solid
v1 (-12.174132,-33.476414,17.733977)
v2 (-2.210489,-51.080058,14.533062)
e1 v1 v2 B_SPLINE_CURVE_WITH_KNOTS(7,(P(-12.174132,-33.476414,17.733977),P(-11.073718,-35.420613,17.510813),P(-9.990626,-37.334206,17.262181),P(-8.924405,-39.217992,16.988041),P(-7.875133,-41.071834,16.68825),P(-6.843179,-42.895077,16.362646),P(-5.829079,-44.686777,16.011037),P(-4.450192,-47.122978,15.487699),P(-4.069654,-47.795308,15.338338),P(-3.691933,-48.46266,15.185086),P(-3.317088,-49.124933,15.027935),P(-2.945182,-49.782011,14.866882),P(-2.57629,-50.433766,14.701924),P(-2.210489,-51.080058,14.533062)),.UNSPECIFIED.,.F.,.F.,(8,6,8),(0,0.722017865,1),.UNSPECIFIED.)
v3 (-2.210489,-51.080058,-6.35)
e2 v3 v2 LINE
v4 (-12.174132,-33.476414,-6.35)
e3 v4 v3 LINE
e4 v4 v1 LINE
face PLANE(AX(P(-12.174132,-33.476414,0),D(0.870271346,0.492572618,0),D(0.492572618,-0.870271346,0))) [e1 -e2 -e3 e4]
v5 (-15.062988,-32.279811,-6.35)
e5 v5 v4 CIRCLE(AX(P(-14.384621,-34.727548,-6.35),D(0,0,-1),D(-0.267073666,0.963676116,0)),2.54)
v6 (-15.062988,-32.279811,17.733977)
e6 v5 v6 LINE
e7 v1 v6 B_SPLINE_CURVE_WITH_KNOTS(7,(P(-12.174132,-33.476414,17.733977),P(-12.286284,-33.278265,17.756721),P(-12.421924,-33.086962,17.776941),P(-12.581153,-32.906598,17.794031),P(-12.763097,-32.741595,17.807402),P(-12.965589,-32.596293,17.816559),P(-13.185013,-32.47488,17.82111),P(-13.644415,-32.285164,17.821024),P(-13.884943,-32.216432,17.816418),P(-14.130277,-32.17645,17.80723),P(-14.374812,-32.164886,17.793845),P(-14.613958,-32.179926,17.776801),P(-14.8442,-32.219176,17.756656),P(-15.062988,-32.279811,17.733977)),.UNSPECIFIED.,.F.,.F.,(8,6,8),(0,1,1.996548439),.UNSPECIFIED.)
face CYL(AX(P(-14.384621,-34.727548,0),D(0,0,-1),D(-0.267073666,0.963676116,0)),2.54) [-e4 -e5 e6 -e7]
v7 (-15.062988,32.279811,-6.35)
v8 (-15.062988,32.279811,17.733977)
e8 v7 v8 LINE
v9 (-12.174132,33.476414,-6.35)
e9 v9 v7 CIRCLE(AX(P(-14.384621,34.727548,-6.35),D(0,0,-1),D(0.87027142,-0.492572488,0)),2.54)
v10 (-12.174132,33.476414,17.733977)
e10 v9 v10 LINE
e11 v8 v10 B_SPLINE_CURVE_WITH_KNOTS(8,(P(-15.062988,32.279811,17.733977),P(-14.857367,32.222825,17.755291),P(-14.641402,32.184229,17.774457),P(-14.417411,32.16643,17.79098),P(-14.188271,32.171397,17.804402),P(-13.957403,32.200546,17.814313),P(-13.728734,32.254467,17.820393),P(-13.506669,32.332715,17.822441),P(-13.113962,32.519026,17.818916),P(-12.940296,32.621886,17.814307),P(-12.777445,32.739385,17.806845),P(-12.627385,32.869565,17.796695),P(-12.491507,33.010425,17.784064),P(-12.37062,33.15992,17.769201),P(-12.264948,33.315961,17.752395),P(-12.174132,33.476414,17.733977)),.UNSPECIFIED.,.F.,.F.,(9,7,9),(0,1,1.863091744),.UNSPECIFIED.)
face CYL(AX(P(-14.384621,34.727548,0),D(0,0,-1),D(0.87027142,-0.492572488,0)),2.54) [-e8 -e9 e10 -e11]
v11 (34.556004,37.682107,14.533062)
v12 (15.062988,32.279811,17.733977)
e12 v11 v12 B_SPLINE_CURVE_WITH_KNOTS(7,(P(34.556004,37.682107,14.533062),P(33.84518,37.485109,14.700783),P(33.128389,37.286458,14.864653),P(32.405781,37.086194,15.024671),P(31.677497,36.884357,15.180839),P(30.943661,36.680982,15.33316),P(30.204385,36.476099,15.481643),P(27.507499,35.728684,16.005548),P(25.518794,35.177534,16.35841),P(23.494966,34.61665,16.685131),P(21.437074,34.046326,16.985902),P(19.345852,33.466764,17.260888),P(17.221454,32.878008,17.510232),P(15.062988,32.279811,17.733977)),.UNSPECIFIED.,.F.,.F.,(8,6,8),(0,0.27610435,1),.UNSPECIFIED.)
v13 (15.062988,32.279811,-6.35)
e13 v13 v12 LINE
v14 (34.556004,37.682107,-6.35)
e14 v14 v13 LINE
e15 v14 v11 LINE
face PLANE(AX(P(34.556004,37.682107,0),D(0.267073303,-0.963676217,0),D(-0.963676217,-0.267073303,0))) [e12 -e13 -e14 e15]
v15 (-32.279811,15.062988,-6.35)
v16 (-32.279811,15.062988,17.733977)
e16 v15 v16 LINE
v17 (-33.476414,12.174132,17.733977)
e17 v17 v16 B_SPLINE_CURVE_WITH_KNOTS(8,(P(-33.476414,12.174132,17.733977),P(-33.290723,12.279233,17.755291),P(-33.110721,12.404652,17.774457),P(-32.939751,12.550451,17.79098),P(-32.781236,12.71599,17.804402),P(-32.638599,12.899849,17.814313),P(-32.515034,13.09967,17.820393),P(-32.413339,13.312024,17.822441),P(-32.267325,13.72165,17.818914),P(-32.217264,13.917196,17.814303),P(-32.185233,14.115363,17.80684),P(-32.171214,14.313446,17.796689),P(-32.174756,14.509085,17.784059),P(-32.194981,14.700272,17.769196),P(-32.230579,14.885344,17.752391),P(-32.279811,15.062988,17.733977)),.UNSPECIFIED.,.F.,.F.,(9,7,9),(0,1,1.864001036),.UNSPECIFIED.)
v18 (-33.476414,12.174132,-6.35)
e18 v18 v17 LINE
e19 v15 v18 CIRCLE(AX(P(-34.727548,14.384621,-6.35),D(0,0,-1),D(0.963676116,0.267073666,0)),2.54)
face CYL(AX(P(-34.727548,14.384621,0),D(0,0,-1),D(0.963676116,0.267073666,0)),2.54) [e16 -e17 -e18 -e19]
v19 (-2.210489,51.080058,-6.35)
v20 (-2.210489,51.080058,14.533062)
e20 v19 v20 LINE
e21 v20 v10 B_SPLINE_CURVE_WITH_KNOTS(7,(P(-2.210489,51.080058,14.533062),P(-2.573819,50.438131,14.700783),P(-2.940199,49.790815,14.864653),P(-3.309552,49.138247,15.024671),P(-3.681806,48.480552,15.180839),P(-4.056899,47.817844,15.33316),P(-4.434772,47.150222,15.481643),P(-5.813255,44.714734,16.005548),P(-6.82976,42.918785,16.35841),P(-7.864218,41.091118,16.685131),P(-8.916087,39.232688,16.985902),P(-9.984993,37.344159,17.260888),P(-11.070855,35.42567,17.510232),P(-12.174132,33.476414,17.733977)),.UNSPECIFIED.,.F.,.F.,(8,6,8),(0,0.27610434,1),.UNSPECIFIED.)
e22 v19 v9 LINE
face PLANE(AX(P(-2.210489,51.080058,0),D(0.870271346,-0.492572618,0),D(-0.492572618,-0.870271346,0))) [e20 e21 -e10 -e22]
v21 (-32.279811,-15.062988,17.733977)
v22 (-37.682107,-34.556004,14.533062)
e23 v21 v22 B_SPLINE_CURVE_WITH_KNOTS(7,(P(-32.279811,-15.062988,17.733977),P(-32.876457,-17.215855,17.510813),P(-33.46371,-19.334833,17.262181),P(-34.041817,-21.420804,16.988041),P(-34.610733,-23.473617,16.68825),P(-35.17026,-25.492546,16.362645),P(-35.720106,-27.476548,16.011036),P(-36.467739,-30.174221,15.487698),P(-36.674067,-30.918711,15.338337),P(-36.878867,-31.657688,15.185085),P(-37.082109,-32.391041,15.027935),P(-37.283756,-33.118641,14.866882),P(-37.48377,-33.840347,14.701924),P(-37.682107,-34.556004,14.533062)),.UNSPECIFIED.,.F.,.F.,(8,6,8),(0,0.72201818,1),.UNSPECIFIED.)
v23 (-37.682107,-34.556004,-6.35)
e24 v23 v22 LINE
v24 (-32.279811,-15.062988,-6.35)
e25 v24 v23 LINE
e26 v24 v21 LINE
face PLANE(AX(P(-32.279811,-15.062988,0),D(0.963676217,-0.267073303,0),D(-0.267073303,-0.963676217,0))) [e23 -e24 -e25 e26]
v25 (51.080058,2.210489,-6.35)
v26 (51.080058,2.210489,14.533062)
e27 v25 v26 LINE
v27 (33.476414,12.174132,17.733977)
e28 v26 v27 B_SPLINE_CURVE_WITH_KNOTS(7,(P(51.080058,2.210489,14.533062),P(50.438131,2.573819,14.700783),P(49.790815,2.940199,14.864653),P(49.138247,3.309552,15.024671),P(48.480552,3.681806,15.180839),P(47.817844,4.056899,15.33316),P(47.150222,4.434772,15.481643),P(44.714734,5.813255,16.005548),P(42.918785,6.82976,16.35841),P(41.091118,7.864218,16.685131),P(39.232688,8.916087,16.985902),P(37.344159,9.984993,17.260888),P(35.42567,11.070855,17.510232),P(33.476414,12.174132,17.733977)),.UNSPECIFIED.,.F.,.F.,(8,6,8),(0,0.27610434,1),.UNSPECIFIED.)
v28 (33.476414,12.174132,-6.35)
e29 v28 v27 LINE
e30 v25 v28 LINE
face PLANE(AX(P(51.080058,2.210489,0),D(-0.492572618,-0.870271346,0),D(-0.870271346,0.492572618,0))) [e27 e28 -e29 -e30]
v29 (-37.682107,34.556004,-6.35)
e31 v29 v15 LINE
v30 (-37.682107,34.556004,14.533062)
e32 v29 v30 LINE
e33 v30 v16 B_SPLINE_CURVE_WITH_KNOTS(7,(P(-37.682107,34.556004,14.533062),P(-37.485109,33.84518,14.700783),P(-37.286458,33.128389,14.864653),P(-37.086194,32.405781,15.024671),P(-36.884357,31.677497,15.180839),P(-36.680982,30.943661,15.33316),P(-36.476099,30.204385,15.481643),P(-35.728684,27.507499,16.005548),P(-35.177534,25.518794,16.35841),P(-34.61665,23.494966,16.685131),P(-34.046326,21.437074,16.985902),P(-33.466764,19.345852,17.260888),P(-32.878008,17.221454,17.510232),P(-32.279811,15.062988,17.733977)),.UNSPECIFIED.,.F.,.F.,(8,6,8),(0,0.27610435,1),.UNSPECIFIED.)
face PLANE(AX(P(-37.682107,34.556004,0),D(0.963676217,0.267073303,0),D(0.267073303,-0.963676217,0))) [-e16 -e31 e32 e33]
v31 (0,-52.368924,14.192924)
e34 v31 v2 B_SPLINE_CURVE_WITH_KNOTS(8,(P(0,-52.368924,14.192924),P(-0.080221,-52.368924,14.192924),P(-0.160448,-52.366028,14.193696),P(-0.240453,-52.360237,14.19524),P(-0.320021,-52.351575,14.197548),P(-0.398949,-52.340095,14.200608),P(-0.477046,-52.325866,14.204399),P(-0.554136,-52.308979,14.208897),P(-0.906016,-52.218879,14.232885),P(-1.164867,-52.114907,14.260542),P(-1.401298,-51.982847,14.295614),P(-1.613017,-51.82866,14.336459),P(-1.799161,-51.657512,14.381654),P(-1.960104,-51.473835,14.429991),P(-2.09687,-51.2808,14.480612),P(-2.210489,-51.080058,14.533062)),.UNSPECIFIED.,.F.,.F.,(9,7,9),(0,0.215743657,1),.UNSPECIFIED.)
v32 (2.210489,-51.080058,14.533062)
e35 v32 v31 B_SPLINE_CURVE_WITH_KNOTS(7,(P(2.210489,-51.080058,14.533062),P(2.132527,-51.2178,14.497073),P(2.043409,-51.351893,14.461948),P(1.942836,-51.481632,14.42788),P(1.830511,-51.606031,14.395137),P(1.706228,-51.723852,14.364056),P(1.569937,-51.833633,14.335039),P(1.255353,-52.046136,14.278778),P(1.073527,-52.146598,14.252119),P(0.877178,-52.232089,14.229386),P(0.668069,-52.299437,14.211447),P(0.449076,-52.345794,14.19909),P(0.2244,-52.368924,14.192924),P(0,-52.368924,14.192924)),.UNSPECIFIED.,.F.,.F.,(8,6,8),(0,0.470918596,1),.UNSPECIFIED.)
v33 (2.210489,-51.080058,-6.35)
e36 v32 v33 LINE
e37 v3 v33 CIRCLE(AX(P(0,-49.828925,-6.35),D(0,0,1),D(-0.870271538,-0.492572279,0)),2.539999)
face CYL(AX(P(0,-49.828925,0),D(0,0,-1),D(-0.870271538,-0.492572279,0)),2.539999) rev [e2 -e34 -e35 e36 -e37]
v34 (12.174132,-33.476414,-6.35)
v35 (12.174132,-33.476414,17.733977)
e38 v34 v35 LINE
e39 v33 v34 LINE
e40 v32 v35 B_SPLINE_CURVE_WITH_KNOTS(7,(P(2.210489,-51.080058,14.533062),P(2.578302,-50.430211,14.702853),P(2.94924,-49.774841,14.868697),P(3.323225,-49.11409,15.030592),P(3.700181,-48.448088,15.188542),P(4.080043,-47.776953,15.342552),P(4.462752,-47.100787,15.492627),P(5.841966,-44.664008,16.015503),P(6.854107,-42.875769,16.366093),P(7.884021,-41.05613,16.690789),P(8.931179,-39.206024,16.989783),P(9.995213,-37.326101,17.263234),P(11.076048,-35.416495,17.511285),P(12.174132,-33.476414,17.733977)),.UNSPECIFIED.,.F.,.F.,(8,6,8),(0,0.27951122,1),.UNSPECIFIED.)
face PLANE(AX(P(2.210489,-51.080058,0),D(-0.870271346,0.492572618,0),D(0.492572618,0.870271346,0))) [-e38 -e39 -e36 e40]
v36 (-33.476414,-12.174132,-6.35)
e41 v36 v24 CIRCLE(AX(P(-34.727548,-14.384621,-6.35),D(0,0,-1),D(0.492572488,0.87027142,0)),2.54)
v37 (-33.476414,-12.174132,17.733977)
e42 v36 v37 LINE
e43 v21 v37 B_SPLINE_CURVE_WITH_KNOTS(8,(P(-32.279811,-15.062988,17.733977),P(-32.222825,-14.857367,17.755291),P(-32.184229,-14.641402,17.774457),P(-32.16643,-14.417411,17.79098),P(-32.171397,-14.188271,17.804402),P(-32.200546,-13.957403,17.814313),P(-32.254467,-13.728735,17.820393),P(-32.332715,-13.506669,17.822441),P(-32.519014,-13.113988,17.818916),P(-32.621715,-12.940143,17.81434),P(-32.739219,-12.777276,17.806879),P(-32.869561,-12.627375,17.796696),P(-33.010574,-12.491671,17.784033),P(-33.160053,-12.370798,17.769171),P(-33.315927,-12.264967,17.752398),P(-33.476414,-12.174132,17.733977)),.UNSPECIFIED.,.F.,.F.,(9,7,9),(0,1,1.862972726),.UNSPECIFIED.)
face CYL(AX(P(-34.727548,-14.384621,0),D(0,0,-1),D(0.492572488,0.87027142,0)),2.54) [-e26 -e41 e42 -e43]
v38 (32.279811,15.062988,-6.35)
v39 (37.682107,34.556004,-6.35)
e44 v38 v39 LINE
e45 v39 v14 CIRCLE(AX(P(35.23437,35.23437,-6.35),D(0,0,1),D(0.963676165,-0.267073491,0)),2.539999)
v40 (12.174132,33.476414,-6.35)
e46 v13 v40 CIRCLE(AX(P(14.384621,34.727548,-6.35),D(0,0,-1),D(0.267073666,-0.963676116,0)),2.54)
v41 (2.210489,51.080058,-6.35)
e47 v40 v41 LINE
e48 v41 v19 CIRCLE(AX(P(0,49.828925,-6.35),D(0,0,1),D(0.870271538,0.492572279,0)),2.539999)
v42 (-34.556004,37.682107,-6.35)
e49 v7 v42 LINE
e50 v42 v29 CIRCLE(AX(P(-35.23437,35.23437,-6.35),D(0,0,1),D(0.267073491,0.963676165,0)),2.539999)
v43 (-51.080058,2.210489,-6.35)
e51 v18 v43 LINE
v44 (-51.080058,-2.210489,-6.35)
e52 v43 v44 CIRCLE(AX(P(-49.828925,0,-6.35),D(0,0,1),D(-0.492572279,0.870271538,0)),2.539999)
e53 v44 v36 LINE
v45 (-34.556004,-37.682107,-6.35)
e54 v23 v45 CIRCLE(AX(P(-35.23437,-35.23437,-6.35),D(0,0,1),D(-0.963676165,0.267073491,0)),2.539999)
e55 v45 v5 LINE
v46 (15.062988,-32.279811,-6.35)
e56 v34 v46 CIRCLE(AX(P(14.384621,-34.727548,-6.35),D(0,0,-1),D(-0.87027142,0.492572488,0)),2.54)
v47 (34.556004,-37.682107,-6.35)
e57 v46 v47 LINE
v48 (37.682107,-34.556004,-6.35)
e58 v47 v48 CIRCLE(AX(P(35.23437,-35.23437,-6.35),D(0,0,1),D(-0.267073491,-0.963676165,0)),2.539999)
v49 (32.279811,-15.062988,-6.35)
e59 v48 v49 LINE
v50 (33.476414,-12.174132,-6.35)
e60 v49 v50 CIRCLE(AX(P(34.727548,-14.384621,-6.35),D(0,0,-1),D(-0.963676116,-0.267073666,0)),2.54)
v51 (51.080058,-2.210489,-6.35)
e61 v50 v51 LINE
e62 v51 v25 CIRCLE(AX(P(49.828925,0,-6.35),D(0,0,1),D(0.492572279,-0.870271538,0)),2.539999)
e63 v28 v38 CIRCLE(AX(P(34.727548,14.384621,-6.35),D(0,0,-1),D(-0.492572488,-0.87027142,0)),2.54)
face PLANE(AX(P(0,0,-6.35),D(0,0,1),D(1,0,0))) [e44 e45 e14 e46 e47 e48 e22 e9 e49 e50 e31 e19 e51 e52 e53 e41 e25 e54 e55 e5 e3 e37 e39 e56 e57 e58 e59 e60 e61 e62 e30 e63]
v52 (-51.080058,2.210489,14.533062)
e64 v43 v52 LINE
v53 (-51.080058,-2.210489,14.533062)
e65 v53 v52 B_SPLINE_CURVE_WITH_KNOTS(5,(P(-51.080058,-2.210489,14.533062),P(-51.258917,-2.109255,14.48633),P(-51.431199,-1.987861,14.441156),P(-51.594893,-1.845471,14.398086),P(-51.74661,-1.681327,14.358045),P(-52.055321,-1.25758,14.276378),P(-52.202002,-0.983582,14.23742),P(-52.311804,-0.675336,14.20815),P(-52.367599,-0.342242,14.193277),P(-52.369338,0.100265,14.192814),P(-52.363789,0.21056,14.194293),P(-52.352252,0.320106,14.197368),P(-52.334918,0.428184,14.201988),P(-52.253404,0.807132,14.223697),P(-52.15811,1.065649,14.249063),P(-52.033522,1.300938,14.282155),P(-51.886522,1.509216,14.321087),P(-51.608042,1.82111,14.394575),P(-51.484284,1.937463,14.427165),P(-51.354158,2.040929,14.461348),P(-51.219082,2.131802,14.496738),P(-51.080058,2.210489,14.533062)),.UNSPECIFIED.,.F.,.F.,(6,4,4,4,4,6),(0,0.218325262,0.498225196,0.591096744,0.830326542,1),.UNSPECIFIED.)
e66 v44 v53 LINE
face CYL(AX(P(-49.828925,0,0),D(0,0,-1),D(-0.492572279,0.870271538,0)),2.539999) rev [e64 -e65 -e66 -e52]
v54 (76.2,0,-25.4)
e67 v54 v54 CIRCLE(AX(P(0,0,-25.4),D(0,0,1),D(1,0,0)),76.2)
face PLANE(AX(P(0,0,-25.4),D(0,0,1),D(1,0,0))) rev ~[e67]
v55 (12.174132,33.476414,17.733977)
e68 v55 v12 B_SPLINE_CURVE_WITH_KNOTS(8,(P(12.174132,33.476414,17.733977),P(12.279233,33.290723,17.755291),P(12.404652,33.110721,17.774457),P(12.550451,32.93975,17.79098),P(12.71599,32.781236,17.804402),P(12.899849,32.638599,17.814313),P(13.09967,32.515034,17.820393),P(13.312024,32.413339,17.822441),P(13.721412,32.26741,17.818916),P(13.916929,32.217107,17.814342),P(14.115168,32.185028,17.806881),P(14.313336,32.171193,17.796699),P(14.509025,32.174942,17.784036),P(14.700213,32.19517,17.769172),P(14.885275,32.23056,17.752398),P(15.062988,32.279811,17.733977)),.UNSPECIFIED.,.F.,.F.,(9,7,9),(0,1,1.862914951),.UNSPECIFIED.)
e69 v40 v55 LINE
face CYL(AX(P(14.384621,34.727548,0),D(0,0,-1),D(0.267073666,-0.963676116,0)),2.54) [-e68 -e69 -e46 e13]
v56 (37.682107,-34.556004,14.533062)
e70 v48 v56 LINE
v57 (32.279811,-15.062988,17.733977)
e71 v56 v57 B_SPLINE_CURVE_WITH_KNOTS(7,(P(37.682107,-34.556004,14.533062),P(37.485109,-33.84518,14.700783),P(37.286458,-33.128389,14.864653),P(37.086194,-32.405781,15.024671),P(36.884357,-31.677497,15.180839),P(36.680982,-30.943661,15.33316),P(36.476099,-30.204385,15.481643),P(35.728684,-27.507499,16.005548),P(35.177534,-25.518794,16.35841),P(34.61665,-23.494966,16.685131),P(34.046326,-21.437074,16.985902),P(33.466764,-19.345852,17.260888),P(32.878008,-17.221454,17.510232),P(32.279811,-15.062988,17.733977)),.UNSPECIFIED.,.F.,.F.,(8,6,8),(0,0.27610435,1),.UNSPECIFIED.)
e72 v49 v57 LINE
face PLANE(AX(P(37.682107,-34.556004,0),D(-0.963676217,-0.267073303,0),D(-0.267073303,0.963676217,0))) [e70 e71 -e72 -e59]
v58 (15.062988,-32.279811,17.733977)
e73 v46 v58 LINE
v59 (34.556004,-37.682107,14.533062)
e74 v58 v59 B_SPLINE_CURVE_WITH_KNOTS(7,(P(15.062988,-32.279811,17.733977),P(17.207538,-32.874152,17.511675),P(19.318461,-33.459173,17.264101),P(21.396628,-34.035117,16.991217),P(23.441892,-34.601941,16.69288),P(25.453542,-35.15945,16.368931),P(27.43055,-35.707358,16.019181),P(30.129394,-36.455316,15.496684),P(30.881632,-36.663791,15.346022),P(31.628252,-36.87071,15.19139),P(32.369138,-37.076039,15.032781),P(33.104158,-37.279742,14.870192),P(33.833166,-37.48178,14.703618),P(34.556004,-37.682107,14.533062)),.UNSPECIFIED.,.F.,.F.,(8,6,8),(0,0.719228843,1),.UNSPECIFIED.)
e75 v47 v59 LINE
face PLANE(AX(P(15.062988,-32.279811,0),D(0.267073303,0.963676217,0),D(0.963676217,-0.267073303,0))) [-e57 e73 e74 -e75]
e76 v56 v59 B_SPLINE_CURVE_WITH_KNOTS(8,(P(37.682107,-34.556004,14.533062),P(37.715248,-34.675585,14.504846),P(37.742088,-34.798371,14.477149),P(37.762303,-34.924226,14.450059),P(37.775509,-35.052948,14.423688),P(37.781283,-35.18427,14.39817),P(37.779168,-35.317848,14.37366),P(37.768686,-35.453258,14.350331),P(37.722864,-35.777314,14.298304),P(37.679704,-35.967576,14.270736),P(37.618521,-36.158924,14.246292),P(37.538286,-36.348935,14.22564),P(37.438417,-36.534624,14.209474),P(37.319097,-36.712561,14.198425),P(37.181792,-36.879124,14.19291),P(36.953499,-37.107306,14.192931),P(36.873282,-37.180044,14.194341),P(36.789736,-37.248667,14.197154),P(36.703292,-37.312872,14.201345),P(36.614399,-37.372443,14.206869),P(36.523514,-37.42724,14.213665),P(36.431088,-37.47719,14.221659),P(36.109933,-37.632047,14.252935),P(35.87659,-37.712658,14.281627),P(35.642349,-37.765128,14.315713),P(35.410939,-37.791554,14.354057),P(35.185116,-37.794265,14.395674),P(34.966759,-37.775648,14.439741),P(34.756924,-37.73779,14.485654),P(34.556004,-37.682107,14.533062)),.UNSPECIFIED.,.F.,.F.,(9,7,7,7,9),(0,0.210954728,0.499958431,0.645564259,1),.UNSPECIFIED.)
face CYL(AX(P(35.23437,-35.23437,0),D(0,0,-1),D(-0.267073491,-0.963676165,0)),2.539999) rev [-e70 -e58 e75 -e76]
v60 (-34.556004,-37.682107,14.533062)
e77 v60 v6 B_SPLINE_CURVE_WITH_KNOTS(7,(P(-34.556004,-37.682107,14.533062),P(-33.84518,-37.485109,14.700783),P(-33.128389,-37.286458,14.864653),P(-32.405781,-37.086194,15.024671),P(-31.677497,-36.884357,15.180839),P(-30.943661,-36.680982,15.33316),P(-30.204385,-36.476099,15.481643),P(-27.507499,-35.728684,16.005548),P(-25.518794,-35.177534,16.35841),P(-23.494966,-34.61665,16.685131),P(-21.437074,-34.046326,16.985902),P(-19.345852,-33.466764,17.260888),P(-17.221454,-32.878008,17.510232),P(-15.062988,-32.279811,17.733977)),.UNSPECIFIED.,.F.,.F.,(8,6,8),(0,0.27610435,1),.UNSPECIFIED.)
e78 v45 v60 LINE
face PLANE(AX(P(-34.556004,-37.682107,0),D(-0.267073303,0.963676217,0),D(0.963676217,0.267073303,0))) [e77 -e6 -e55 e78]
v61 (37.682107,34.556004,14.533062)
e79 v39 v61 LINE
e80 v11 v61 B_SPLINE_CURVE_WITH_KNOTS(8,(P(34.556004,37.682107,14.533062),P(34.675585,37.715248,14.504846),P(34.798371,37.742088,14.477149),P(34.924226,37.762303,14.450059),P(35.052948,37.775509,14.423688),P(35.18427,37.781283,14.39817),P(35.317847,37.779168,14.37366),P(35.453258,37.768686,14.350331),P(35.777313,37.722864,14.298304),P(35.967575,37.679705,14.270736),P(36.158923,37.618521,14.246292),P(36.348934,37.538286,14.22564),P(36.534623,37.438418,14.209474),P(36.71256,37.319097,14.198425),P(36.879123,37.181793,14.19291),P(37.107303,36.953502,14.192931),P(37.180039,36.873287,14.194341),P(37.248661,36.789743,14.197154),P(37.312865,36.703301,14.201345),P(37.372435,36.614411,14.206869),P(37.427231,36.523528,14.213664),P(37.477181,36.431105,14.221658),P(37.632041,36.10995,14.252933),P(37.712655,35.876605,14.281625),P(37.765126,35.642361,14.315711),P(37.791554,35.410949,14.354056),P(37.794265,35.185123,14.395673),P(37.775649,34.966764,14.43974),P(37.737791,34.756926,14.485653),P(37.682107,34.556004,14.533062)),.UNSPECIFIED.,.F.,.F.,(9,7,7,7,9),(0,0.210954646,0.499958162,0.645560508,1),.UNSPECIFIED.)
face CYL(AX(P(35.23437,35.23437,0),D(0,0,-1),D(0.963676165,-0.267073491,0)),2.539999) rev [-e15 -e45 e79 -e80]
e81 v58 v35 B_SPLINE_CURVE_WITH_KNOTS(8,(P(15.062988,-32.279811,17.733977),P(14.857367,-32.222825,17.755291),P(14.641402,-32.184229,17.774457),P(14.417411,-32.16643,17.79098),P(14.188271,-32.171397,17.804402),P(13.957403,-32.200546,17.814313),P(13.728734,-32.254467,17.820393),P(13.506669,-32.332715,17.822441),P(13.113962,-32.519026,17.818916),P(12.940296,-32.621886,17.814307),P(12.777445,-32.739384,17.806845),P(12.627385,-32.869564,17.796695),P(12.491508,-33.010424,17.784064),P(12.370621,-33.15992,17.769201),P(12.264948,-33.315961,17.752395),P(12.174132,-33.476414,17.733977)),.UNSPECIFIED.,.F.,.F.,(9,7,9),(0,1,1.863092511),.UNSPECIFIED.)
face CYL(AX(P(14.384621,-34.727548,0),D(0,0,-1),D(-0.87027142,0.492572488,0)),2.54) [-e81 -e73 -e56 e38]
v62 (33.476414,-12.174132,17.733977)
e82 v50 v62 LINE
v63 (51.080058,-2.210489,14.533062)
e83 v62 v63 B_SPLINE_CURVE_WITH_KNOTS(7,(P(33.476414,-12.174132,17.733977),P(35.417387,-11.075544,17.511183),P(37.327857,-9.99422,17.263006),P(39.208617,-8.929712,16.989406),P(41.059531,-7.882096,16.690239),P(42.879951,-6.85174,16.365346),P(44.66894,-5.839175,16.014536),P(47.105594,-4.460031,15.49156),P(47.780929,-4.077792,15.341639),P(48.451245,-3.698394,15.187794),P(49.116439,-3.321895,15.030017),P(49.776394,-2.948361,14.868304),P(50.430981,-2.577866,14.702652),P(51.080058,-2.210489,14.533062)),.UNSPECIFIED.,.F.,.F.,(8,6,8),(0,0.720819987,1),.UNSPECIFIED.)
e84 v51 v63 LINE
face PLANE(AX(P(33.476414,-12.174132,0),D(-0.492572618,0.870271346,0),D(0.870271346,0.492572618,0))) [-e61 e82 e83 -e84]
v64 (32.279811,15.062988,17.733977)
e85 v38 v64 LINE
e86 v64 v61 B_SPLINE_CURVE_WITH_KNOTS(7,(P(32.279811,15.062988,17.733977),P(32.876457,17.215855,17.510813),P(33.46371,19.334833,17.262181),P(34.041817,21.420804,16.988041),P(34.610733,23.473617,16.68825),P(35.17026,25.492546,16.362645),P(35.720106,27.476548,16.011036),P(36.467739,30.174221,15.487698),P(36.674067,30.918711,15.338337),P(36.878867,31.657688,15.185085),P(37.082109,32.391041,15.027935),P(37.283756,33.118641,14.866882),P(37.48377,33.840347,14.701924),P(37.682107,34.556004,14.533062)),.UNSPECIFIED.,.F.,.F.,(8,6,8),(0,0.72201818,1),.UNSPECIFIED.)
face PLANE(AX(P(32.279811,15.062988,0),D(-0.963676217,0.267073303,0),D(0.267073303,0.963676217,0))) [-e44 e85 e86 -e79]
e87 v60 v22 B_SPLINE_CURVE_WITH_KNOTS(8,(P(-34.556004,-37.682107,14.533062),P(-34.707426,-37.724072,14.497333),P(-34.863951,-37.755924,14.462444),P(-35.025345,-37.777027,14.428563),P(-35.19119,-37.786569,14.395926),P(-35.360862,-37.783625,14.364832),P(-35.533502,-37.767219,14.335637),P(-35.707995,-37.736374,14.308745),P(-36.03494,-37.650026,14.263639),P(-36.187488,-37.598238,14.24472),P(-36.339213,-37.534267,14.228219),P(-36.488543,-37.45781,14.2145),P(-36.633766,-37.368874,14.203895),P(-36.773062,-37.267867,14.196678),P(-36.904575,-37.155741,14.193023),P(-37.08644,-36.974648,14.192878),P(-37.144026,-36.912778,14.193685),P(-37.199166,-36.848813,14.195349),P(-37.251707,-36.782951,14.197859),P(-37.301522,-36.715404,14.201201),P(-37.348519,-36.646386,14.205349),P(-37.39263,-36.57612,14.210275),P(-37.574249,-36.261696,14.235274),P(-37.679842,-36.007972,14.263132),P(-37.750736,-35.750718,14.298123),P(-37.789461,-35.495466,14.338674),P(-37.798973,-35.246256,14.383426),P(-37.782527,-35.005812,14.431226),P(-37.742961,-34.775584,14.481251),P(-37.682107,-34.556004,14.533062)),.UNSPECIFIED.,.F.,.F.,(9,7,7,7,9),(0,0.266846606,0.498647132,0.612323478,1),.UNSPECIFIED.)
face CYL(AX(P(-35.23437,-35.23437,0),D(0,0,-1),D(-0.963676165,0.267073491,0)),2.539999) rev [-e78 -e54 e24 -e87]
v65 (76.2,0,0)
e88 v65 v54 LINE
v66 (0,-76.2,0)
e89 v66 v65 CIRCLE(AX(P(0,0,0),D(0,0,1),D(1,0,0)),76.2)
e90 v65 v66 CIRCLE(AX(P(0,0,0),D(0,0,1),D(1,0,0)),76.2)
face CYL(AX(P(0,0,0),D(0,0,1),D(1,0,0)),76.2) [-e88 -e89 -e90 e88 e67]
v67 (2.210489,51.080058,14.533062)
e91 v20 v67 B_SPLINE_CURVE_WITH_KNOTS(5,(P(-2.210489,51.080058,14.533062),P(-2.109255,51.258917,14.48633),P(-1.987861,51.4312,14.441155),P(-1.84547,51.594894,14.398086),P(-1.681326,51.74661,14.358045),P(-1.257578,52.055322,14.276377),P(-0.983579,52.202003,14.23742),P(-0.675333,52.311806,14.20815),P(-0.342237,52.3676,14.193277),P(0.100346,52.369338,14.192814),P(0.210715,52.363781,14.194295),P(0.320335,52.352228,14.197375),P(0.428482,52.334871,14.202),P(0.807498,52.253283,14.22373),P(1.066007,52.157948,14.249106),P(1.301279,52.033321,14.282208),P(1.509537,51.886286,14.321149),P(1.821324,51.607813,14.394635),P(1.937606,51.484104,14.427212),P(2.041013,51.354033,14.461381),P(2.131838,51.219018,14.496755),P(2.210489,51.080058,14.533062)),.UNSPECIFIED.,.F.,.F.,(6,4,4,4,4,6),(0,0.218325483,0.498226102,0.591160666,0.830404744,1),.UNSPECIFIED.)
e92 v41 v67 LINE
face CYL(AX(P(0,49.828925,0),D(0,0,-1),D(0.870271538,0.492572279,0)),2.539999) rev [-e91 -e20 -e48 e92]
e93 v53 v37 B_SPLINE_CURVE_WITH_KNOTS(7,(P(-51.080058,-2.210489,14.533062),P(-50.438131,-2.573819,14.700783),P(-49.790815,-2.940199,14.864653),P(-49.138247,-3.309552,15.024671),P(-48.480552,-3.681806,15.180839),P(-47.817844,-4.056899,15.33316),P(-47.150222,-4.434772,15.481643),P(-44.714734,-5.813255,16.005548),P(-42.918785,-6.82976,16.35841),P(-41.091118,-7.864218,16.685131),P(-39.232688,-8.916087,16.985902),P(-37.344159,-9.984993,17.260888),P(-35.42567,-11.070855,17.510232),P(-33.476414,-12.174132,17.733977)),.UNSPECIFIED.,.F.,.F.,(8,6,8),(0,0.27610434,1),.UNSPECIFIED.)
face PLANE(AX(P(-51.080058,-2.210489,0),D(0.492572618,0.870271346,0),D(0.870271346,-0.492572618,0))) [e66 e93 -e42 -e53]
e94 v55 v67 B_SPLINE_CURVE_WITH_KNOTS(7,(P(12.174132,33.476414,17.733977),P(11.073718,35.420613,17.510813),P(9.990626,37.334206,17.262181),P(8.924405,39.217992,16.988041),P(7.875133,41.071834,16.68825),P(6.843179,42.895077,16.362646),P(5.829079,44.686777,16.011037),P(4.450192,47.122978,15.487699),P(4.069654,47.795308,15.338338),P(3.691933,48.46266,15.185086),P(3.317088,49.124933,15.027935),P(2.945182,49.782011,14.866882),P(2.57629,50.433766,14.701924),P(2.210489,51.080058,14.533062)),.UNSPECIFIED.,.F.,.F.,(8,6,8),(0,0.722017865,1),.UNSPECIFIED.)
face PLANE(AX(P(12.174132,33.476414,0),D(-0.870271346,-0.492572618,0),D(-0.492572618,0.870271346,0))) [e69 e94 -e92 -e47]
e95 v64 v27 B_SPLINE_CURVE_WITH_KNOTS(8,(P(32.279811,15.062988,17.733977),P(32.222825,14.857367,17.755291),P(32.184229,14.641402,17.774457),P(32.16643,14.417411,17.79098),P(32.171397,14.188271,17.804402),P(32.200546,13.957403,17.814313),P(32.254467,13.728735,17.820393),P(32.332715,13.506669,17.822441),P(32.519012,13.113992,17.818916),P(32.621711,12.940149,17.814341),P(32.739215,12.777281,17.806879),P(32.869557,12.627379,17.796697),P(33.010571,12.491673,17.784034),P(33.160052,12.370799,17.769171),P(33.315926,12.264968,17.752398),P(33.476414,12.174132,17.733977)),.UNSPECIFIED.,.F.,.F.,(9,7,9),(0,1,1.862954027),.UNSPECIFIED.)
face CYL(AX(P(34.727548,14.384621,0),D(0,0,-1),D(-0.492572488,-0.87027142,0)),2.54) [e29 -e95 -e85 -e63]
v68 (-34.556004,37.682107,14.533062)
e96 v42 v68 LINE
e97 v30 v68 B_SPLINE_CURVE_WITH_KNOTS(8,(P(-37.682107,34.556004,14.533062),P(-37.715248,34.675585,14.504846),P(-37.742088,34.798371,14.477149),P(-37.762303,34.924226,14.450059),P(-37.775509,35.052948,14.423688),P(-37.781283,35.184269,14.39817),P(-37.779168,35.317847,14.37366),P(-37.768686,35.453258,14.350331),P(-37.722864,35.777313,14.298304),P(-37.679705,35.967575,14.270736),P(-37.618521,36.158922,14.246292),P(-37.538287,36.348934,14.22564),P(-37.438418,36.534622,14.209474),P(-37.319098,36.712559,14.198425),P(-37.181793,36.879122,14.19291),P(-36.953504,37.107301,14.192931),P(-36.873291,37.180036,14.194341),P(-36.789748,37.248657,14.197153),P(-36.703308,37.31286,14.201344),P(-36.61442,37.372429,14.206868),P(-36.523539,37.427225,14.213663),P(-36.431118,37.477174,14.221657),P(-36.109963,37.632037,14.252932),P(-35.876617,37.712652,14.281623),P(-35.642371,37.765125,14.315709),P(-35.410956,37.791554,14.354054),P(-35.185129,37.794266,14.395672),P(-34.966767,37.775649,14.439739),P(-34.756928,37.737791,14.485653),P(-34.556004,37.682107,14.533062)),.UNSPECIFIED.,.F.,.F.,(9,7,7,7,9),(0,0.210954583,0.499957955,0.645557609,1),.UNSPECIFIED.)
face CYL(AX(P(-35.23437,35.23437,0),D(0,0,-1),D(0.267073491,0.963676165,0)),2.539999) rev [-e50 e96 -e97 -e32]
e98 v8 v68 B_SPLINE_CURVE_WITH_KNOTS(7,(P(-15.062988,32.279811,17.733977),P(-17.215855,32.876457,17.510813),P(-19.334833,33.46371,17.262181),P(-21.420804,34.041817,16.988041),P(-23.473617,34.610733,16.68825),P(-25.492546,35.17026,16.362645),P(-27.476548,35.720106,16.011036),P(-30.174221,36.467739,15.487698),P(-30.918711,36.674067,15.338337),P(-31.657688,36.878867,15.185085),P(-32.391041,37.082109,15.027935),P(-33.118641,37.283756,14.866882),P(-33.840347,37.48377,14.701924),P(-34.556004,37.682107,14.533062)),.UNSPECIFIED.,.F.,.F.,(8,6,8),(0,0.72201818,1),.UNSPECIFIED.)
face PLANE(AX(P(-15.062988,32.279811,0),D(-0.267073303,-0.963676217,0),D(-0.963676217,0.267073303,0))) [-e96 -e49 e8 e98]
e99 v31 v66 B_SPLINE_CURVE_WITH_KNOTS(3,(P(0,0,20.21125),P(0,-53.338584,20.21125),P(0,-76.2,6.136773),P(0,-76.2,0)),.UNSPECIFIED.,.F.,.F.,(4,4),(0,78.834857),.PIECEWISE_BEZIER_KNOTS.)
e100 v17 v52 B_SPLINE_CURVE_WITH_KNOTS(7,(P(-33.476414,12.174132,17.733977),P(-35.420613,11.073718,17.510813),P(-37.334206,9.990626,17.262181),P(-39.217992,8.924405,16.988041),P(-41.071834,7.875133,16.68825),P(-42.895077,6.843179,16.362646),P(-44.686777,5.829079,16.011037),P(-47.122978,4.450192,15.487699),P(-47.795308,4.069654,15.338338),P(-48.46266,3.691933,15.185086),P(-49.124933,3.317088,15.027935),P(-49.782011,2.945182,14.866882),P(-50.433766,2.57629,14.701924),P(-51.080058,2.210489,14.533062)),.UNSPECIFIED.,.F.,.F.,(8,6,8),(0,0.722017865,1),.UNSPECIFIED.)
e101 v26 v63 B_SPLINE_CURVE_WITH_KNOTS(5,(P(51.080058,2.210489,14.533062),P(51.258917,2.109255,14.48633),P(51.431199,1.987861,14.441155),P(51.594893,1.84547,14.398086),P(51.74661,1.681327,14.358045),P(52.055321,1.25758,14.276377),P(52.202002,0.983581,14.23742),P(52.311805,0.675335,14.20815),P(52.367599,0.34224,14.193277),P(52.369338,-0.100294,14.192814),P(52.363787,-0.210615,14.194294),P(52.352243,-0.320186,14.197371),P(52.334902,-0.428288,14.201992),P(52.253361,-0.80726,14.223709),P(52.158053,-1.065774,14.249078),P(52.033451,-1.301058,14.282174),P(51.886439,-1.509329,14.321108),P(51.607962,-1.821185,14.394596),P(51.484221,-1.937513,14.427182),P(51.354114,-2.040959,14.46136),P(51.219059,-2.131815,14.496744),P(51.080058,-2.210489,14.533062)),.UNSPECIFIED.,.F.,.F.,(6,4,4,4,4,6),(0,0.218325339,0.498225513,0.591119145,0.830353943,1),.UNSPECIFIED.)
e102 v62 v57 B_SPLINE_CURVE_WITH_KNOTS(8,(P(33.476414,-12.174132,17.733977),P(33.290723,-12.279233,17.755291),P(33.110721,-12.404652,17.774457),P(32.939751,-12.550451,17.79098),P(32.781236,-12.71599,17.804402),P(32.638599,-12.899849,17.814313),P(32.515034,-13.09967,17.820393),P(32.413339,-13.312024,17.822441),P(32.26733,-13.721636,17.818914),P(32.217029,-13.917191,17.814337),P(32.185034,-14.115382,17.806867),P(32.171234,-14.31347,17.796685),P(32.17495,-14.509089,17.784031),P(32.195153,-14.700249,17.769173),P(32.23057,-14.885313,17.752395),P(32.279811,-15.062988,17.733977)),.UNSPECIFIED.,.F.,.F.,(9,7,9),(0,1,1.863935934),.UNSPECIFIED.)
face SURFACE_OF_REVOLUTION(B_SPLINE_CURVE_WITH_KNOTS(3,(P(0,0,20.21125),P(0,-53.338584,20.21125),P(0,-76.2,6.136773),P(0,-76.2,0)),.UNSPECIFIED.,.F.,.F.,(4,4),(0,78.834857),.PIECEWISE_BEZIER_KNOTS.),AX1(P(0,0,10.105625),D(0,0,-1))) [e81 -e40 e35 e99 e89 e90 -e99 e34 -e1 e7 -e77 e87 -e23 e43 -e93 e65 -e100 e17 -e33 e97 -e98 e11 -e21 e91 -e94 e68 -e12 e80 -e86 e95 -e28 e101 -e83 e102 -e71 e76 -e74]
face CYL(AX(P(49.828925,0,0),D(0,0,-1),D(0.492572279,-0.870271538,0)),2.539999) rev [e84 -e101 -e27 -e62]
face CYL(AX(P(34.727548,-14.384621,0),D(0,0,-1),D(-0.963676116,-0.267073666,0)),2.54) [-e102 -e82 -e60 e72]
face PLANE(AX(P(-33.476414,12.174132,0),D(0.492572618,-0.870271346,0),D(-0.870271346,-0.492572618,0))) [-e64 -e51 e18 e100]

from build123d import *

# Parameters (mm, degrees)
F0_R          = 76.2
F1_DEPTH      = 25.4
F4_DEPTH      = 20.21225
F4_DEPTH_BACK = 6.35


with BuildPart() as f1:
    # F0 (on Top) → F1 (new body)
    with BuildSketch(Plane.XY):
        Circle(F0_R)
        with BuildLine():
            ThreePointArc((-15.062988, 32.279811), (-13.412606, 32.380894), (-12.174132, 33.476414))
            Line((-12.174132, 33.476414), (-2.210489, 51.080058))
            ThreePointArc((-2.210489, 51.080058), (0, 52.368924), (2.210489, 51.080058))
            Line((2.210489, 51.080058), (12.174132, 33.476414))
            ThreePointArc((12.174132, 33.476414), (13.412606, 32.380894), (15.062988, 32.279811))
            Line((15.062988, 32.279811), (34.556004, 37.682107))
            ThreePointArc((34.556004, 37.682107), (37.030421, 37.030421), (37.682107, 34.556004))
            Line((37.682107, 34.556004), (32.279811, 15.062988))
            ThreePointArc((32.279811, 15.062988), (32.380894, 13.412606), (33.476414, 12.174132))
            Line((33.476414, 12.174132), (51.080058, 2.210489))
            ThreePointArc((51.080058, 2.210489), (52.368924, 0), (51.080058, -2.210489))
            Line((51.080058, -2.210489), (33.476414, -12.174132))
            ThreePointArc((33.476414, -12.174132), (32.380894, -13.412606), (32.279811, -15.062988))
            Line((32.279811, -15.062988), (37.682107, -34.556004))
            ThreePointArc((37.682107, -34.556004), (37.030421, -37.030421), (34.556004, -37.682107))
            Line((34.556004, -37.682107), (15.062988, -32.279811))
            ThreePointArc((15.062988, -32.279811), (13.412606, -32.380894), (12.174132, -33.476414))
            Line((12.174132, -33.476414), (2.210489, -51.080058))
            ThreePointArc((2.210489, -51.080058), (0, -52.368924), (-2.210489, -51.080058))
            Line((-2.210489, -51.080058), (-12.174132, -33.476414))
            ThreePointArc((-12.174132, -33.476414), (-13.412606, -32.380894), (-15.062988, -32.279811))
            Line((-15.062988, -32.279811), (-34.556004, -37.682107))
            ThreePointArc((-34.556004, -37.682107), (-37.030421, -37.030421), (-37.682107, -34.556004))
            Line((-37.682107, -34.556004), (-32.279811, -15.062988))
            ThreePointArc((-32.279811, -15.062988), (-32.380894, -13.412606), (-33.476414, -12.174132))
            Line((-33.476414, -12.174132), (-51.080058, -2.210489))
            ThreePointArc((-51.080058, -2.210489), (-52.368924, 0), (-51.080058, 2.210489))
            Line((-51.080058, 2.210489), (-33.476414, 12.174132))
            ThreePointArc((-33.476414, 12.174132), (-32.380894, 13.412606), (-32.279811, 15.062988))
            Line((-32.279811, 15.062988), (-37.682107, 34.556004))
            ThreePointArc((-37.682107, 34.556004), (-37.030421, 37.030421), (-34.556004, 37.682107))
            Line((-34.556004, 37.682107), (-15.062988, 32.279811))
        make_face(mode=Mode.SUBTRACT)
        with BuildLine():
            Line((-2.210489, 51.080058), (-12.174132, 33.476414))
            ThreePointArc((-12.174132, 33.476414), (-13.412606, 32.380894), (-15.062988, 32.279811))
            Line((-15.062988, 32.279811), (-34.556004, 37.682107))
            ThreePointArc((-34.556004, 37.682107), (-37.030421, 37.030421), (-37.682107, 34.556004))
            Line((-37.682107, 34.556004), (-32.279811, 15.062988))
            ThreePointArc((-32.279811, 15.062988), (-32.380894, 13.412606), (-33.476414, 12.174132))
            Line((-33.476414, 12.174132), (-51.080058, 2.210489))
            ThreePointArc((-51.080058, 2.210489), (-52.368924, 0), (-51.080058, -2.210489))
            Line((-51.080058, -2.210489), (-33.476414, -12.174132))
            ThreePointArc((-33.476414, -12.174132), (-32.380894, -13.412606), (-32.279811, -15.062988))
            Line((-32.279811, -15.062988), (-37.682107, -34.556004))
            ThreePointArc((-37.682107, -34.556004), (-37.030421, -37.030421), (-34.556004, -37.682107))
            Line((-34.556004, -37.682107), (-15.062988, -32.279811))
            ThreePointArc((-15.062988, -32.279811), (-13.412606, -32.380894), (-12.174132, -33.476414))
            Line((-12.174132, -33.476414), (-2.210489, -51.080058))
            ThreePointArc((-2.210489, -51.080058), (0, -52.368924), (2.210489, -51.080058))
            Line((2.210489, -51.080058), (12.174132, -33.476414))
            ThreePointArc((12.174132, -33.476414), (13.412606, -32.380894), (15.062988, -32.279811))
            Line((15.062988, -32.279811), (34.556004, -37.682107))
            ThreePointArc((34.556004, -37.682107), (37.030421, -37.030421), (37.682107, -34.556004))
            Line((37.682107, -34.556004), (32.279811, -15.062988))
            ThreePointArc((32.279811, -15.062988), (32.380894, -13.412606), (33.476414, -12.174132))
            Line((33.476414, -12.174132), (51.080058, -2.210489))
            ThreePointArc((51.080058, -2.210489), (52.368924, 0), (51.080058, 2.210489))
            Line((51.080058, 2.210489), (33.476414, 12.174132))
            ThreePointArc((33.476414, 12.174132), (32.380894, 13.412606), (32.279811, 15.062988))
            Line((32.279811, 15.062988), (37.682107, 34.556004))
            ThreePointArc((37.682107, 34.556004), (37.030421, 37.030421), (34.556004, 37.682107))
            Line((34.556004, 37.682107), (15.062988, 32.279811))
            ThreePointArc((15.062988, 32.279811), (13.412606, 32.380894), (12.174132, 33.476414))
            Line((12.174132, 33.476414), (2.210489, 51.080058))
            ThreePointArc((2.210489, 51.080058), (0, 52.368924), (-2.210489, 51.080058))
        make_face()
    extrude(amount=-F1_DEPTH)

    # F2 (on Right) → F3 (revolve)
    with BuildSketch(Plane.YZ):
        with BuildLine():
            add(Edge.make_bspline(
                [(0, 20.21125), (-53.338584, 20.21125), (-76.2, 6.136773), (-76.2, 0)],
                knots=[0, 0, 0, 0, 78.834857, 78.834857, 78.834857, 78.834857], degree=3))
            Line((-76.2, 0), (0, 0))
            Line((0, 0), (0, 20.21125))
        make_face()
    revolve(axis=Axis((0, 0, 10.105625), (0, 0, -1)))

    # F0 (on Top) → F4 (cut, two sides)
    with BuildSketch(Plane.XY) as f4_sk:
        with BuildLine():
            Line((-2.210489, 51.080058), (-12.174132, 33.476414))
            ThreePointArc((-12.174132, 33.476414), (-13.412606, 32.380894), (-15.062988, 32.279811))
            Line((-15.062988, 32.279811), (-34.556004, 37.682107))
            ThreePointArc((-34.556004, 37.682107), (-37.030421, 37.030421), (-37.682107, 34.556004))
            Line((-37.682107, 34.556004), (-32.279811, 15.062988))
            ThreePointArc((-32.279811, 15.062988), (-32.380894, 13.412606), (-33.476414, 12.174132))
            Line((-33.476414, 12.174132), (-51.080058, 2.210489))
            ThreePointArc((-51.080058, 2.210489), (-52.368924, 0), (-51.080058, -2.210489))
            Line((-51.080058, -2.210489), (-33.476414, -12.174132))
            ThreePointArc((-33.476414, -12.174132), (-32.380894, -13.412606), (-32.279811, -15.062988))
            Line((-32.279811, -15.062988), (-37.682107, -34.556004))
            ThreePointArc((-37.682107, -34.556004), (-37.030421, -37.030421), (-34.556004, -37.682107))
            Line((-34.556004, -37.682107), (-15.062988, -32.279811))
            ThreePointArc((-15.062988, -32.279811), (-13.412606, -32.380894), (-12.174132, -33.476414))
            Line((-12.174132, -33.476414), (-2.210489, -51.080058))
            ThreePointArc((-2.210489, -51.080058), (0, -52.368924), (2.210489, -51.080058))
            Line((2.210489, -51.080058), (12.174132, -33.476414))
            ThreePointArc((12.174132, -33.476414), (13.412606, -32.380894), (15.062988, -32.279811))
            Line((15.062988, -32.279811), (34.556004, -37.682107))
            ThreePointArc((34.556004, -37.682107), (37.030421, -37.030421), (37.682107, -34.556004))
            Line((37.682107, -34.556004), (32.279811, -15.062988))
            ThreePointArc((32.279811, -15.062988), (32.380894, -13.412606), (33.476414, -12.174132))
            Line((33.476414, -12.174132), (51.080058, -2.210489))
            ThreePointArc((51.080058, -2.210489), (52.368924, 0), (51.080058, 2.210489))
            Line((51.080058, 2.210489), (33.476414, 12.174132))
            ThreePointArc((33.476414, 12.174132), (32.380894, 13.412606), (32.279811, 15.062988))
            Line((32.279811, 15.062988), (37.682107, 34.556004))
            ThreePointArc((37.682107, 34.556004), (37.030421, 37.030421), (34.556004, 37.682107))
            Line((34.556004, 37.682107), (15.062988, 32.279811))
            ThreePointArc((15.062988, 32.279811), (13.412606, 32.380894), (12.174132, 33.476414))
            Line((12.174132, 33.476414), (2.210489, 51.080058))
            ThreePointArc((2.210489, 51.080058), (0, 52.368924), (-2.210489, 51.080058))
        make_face()
    extrude(amount=F4_DEPTH, mode=Mode.SUBTRACT)
    extrude(f4_sk.sketch, amount=-F4_DEPTH_BACK, mode=Mode.SUBTRACT)


solid = f1.part
